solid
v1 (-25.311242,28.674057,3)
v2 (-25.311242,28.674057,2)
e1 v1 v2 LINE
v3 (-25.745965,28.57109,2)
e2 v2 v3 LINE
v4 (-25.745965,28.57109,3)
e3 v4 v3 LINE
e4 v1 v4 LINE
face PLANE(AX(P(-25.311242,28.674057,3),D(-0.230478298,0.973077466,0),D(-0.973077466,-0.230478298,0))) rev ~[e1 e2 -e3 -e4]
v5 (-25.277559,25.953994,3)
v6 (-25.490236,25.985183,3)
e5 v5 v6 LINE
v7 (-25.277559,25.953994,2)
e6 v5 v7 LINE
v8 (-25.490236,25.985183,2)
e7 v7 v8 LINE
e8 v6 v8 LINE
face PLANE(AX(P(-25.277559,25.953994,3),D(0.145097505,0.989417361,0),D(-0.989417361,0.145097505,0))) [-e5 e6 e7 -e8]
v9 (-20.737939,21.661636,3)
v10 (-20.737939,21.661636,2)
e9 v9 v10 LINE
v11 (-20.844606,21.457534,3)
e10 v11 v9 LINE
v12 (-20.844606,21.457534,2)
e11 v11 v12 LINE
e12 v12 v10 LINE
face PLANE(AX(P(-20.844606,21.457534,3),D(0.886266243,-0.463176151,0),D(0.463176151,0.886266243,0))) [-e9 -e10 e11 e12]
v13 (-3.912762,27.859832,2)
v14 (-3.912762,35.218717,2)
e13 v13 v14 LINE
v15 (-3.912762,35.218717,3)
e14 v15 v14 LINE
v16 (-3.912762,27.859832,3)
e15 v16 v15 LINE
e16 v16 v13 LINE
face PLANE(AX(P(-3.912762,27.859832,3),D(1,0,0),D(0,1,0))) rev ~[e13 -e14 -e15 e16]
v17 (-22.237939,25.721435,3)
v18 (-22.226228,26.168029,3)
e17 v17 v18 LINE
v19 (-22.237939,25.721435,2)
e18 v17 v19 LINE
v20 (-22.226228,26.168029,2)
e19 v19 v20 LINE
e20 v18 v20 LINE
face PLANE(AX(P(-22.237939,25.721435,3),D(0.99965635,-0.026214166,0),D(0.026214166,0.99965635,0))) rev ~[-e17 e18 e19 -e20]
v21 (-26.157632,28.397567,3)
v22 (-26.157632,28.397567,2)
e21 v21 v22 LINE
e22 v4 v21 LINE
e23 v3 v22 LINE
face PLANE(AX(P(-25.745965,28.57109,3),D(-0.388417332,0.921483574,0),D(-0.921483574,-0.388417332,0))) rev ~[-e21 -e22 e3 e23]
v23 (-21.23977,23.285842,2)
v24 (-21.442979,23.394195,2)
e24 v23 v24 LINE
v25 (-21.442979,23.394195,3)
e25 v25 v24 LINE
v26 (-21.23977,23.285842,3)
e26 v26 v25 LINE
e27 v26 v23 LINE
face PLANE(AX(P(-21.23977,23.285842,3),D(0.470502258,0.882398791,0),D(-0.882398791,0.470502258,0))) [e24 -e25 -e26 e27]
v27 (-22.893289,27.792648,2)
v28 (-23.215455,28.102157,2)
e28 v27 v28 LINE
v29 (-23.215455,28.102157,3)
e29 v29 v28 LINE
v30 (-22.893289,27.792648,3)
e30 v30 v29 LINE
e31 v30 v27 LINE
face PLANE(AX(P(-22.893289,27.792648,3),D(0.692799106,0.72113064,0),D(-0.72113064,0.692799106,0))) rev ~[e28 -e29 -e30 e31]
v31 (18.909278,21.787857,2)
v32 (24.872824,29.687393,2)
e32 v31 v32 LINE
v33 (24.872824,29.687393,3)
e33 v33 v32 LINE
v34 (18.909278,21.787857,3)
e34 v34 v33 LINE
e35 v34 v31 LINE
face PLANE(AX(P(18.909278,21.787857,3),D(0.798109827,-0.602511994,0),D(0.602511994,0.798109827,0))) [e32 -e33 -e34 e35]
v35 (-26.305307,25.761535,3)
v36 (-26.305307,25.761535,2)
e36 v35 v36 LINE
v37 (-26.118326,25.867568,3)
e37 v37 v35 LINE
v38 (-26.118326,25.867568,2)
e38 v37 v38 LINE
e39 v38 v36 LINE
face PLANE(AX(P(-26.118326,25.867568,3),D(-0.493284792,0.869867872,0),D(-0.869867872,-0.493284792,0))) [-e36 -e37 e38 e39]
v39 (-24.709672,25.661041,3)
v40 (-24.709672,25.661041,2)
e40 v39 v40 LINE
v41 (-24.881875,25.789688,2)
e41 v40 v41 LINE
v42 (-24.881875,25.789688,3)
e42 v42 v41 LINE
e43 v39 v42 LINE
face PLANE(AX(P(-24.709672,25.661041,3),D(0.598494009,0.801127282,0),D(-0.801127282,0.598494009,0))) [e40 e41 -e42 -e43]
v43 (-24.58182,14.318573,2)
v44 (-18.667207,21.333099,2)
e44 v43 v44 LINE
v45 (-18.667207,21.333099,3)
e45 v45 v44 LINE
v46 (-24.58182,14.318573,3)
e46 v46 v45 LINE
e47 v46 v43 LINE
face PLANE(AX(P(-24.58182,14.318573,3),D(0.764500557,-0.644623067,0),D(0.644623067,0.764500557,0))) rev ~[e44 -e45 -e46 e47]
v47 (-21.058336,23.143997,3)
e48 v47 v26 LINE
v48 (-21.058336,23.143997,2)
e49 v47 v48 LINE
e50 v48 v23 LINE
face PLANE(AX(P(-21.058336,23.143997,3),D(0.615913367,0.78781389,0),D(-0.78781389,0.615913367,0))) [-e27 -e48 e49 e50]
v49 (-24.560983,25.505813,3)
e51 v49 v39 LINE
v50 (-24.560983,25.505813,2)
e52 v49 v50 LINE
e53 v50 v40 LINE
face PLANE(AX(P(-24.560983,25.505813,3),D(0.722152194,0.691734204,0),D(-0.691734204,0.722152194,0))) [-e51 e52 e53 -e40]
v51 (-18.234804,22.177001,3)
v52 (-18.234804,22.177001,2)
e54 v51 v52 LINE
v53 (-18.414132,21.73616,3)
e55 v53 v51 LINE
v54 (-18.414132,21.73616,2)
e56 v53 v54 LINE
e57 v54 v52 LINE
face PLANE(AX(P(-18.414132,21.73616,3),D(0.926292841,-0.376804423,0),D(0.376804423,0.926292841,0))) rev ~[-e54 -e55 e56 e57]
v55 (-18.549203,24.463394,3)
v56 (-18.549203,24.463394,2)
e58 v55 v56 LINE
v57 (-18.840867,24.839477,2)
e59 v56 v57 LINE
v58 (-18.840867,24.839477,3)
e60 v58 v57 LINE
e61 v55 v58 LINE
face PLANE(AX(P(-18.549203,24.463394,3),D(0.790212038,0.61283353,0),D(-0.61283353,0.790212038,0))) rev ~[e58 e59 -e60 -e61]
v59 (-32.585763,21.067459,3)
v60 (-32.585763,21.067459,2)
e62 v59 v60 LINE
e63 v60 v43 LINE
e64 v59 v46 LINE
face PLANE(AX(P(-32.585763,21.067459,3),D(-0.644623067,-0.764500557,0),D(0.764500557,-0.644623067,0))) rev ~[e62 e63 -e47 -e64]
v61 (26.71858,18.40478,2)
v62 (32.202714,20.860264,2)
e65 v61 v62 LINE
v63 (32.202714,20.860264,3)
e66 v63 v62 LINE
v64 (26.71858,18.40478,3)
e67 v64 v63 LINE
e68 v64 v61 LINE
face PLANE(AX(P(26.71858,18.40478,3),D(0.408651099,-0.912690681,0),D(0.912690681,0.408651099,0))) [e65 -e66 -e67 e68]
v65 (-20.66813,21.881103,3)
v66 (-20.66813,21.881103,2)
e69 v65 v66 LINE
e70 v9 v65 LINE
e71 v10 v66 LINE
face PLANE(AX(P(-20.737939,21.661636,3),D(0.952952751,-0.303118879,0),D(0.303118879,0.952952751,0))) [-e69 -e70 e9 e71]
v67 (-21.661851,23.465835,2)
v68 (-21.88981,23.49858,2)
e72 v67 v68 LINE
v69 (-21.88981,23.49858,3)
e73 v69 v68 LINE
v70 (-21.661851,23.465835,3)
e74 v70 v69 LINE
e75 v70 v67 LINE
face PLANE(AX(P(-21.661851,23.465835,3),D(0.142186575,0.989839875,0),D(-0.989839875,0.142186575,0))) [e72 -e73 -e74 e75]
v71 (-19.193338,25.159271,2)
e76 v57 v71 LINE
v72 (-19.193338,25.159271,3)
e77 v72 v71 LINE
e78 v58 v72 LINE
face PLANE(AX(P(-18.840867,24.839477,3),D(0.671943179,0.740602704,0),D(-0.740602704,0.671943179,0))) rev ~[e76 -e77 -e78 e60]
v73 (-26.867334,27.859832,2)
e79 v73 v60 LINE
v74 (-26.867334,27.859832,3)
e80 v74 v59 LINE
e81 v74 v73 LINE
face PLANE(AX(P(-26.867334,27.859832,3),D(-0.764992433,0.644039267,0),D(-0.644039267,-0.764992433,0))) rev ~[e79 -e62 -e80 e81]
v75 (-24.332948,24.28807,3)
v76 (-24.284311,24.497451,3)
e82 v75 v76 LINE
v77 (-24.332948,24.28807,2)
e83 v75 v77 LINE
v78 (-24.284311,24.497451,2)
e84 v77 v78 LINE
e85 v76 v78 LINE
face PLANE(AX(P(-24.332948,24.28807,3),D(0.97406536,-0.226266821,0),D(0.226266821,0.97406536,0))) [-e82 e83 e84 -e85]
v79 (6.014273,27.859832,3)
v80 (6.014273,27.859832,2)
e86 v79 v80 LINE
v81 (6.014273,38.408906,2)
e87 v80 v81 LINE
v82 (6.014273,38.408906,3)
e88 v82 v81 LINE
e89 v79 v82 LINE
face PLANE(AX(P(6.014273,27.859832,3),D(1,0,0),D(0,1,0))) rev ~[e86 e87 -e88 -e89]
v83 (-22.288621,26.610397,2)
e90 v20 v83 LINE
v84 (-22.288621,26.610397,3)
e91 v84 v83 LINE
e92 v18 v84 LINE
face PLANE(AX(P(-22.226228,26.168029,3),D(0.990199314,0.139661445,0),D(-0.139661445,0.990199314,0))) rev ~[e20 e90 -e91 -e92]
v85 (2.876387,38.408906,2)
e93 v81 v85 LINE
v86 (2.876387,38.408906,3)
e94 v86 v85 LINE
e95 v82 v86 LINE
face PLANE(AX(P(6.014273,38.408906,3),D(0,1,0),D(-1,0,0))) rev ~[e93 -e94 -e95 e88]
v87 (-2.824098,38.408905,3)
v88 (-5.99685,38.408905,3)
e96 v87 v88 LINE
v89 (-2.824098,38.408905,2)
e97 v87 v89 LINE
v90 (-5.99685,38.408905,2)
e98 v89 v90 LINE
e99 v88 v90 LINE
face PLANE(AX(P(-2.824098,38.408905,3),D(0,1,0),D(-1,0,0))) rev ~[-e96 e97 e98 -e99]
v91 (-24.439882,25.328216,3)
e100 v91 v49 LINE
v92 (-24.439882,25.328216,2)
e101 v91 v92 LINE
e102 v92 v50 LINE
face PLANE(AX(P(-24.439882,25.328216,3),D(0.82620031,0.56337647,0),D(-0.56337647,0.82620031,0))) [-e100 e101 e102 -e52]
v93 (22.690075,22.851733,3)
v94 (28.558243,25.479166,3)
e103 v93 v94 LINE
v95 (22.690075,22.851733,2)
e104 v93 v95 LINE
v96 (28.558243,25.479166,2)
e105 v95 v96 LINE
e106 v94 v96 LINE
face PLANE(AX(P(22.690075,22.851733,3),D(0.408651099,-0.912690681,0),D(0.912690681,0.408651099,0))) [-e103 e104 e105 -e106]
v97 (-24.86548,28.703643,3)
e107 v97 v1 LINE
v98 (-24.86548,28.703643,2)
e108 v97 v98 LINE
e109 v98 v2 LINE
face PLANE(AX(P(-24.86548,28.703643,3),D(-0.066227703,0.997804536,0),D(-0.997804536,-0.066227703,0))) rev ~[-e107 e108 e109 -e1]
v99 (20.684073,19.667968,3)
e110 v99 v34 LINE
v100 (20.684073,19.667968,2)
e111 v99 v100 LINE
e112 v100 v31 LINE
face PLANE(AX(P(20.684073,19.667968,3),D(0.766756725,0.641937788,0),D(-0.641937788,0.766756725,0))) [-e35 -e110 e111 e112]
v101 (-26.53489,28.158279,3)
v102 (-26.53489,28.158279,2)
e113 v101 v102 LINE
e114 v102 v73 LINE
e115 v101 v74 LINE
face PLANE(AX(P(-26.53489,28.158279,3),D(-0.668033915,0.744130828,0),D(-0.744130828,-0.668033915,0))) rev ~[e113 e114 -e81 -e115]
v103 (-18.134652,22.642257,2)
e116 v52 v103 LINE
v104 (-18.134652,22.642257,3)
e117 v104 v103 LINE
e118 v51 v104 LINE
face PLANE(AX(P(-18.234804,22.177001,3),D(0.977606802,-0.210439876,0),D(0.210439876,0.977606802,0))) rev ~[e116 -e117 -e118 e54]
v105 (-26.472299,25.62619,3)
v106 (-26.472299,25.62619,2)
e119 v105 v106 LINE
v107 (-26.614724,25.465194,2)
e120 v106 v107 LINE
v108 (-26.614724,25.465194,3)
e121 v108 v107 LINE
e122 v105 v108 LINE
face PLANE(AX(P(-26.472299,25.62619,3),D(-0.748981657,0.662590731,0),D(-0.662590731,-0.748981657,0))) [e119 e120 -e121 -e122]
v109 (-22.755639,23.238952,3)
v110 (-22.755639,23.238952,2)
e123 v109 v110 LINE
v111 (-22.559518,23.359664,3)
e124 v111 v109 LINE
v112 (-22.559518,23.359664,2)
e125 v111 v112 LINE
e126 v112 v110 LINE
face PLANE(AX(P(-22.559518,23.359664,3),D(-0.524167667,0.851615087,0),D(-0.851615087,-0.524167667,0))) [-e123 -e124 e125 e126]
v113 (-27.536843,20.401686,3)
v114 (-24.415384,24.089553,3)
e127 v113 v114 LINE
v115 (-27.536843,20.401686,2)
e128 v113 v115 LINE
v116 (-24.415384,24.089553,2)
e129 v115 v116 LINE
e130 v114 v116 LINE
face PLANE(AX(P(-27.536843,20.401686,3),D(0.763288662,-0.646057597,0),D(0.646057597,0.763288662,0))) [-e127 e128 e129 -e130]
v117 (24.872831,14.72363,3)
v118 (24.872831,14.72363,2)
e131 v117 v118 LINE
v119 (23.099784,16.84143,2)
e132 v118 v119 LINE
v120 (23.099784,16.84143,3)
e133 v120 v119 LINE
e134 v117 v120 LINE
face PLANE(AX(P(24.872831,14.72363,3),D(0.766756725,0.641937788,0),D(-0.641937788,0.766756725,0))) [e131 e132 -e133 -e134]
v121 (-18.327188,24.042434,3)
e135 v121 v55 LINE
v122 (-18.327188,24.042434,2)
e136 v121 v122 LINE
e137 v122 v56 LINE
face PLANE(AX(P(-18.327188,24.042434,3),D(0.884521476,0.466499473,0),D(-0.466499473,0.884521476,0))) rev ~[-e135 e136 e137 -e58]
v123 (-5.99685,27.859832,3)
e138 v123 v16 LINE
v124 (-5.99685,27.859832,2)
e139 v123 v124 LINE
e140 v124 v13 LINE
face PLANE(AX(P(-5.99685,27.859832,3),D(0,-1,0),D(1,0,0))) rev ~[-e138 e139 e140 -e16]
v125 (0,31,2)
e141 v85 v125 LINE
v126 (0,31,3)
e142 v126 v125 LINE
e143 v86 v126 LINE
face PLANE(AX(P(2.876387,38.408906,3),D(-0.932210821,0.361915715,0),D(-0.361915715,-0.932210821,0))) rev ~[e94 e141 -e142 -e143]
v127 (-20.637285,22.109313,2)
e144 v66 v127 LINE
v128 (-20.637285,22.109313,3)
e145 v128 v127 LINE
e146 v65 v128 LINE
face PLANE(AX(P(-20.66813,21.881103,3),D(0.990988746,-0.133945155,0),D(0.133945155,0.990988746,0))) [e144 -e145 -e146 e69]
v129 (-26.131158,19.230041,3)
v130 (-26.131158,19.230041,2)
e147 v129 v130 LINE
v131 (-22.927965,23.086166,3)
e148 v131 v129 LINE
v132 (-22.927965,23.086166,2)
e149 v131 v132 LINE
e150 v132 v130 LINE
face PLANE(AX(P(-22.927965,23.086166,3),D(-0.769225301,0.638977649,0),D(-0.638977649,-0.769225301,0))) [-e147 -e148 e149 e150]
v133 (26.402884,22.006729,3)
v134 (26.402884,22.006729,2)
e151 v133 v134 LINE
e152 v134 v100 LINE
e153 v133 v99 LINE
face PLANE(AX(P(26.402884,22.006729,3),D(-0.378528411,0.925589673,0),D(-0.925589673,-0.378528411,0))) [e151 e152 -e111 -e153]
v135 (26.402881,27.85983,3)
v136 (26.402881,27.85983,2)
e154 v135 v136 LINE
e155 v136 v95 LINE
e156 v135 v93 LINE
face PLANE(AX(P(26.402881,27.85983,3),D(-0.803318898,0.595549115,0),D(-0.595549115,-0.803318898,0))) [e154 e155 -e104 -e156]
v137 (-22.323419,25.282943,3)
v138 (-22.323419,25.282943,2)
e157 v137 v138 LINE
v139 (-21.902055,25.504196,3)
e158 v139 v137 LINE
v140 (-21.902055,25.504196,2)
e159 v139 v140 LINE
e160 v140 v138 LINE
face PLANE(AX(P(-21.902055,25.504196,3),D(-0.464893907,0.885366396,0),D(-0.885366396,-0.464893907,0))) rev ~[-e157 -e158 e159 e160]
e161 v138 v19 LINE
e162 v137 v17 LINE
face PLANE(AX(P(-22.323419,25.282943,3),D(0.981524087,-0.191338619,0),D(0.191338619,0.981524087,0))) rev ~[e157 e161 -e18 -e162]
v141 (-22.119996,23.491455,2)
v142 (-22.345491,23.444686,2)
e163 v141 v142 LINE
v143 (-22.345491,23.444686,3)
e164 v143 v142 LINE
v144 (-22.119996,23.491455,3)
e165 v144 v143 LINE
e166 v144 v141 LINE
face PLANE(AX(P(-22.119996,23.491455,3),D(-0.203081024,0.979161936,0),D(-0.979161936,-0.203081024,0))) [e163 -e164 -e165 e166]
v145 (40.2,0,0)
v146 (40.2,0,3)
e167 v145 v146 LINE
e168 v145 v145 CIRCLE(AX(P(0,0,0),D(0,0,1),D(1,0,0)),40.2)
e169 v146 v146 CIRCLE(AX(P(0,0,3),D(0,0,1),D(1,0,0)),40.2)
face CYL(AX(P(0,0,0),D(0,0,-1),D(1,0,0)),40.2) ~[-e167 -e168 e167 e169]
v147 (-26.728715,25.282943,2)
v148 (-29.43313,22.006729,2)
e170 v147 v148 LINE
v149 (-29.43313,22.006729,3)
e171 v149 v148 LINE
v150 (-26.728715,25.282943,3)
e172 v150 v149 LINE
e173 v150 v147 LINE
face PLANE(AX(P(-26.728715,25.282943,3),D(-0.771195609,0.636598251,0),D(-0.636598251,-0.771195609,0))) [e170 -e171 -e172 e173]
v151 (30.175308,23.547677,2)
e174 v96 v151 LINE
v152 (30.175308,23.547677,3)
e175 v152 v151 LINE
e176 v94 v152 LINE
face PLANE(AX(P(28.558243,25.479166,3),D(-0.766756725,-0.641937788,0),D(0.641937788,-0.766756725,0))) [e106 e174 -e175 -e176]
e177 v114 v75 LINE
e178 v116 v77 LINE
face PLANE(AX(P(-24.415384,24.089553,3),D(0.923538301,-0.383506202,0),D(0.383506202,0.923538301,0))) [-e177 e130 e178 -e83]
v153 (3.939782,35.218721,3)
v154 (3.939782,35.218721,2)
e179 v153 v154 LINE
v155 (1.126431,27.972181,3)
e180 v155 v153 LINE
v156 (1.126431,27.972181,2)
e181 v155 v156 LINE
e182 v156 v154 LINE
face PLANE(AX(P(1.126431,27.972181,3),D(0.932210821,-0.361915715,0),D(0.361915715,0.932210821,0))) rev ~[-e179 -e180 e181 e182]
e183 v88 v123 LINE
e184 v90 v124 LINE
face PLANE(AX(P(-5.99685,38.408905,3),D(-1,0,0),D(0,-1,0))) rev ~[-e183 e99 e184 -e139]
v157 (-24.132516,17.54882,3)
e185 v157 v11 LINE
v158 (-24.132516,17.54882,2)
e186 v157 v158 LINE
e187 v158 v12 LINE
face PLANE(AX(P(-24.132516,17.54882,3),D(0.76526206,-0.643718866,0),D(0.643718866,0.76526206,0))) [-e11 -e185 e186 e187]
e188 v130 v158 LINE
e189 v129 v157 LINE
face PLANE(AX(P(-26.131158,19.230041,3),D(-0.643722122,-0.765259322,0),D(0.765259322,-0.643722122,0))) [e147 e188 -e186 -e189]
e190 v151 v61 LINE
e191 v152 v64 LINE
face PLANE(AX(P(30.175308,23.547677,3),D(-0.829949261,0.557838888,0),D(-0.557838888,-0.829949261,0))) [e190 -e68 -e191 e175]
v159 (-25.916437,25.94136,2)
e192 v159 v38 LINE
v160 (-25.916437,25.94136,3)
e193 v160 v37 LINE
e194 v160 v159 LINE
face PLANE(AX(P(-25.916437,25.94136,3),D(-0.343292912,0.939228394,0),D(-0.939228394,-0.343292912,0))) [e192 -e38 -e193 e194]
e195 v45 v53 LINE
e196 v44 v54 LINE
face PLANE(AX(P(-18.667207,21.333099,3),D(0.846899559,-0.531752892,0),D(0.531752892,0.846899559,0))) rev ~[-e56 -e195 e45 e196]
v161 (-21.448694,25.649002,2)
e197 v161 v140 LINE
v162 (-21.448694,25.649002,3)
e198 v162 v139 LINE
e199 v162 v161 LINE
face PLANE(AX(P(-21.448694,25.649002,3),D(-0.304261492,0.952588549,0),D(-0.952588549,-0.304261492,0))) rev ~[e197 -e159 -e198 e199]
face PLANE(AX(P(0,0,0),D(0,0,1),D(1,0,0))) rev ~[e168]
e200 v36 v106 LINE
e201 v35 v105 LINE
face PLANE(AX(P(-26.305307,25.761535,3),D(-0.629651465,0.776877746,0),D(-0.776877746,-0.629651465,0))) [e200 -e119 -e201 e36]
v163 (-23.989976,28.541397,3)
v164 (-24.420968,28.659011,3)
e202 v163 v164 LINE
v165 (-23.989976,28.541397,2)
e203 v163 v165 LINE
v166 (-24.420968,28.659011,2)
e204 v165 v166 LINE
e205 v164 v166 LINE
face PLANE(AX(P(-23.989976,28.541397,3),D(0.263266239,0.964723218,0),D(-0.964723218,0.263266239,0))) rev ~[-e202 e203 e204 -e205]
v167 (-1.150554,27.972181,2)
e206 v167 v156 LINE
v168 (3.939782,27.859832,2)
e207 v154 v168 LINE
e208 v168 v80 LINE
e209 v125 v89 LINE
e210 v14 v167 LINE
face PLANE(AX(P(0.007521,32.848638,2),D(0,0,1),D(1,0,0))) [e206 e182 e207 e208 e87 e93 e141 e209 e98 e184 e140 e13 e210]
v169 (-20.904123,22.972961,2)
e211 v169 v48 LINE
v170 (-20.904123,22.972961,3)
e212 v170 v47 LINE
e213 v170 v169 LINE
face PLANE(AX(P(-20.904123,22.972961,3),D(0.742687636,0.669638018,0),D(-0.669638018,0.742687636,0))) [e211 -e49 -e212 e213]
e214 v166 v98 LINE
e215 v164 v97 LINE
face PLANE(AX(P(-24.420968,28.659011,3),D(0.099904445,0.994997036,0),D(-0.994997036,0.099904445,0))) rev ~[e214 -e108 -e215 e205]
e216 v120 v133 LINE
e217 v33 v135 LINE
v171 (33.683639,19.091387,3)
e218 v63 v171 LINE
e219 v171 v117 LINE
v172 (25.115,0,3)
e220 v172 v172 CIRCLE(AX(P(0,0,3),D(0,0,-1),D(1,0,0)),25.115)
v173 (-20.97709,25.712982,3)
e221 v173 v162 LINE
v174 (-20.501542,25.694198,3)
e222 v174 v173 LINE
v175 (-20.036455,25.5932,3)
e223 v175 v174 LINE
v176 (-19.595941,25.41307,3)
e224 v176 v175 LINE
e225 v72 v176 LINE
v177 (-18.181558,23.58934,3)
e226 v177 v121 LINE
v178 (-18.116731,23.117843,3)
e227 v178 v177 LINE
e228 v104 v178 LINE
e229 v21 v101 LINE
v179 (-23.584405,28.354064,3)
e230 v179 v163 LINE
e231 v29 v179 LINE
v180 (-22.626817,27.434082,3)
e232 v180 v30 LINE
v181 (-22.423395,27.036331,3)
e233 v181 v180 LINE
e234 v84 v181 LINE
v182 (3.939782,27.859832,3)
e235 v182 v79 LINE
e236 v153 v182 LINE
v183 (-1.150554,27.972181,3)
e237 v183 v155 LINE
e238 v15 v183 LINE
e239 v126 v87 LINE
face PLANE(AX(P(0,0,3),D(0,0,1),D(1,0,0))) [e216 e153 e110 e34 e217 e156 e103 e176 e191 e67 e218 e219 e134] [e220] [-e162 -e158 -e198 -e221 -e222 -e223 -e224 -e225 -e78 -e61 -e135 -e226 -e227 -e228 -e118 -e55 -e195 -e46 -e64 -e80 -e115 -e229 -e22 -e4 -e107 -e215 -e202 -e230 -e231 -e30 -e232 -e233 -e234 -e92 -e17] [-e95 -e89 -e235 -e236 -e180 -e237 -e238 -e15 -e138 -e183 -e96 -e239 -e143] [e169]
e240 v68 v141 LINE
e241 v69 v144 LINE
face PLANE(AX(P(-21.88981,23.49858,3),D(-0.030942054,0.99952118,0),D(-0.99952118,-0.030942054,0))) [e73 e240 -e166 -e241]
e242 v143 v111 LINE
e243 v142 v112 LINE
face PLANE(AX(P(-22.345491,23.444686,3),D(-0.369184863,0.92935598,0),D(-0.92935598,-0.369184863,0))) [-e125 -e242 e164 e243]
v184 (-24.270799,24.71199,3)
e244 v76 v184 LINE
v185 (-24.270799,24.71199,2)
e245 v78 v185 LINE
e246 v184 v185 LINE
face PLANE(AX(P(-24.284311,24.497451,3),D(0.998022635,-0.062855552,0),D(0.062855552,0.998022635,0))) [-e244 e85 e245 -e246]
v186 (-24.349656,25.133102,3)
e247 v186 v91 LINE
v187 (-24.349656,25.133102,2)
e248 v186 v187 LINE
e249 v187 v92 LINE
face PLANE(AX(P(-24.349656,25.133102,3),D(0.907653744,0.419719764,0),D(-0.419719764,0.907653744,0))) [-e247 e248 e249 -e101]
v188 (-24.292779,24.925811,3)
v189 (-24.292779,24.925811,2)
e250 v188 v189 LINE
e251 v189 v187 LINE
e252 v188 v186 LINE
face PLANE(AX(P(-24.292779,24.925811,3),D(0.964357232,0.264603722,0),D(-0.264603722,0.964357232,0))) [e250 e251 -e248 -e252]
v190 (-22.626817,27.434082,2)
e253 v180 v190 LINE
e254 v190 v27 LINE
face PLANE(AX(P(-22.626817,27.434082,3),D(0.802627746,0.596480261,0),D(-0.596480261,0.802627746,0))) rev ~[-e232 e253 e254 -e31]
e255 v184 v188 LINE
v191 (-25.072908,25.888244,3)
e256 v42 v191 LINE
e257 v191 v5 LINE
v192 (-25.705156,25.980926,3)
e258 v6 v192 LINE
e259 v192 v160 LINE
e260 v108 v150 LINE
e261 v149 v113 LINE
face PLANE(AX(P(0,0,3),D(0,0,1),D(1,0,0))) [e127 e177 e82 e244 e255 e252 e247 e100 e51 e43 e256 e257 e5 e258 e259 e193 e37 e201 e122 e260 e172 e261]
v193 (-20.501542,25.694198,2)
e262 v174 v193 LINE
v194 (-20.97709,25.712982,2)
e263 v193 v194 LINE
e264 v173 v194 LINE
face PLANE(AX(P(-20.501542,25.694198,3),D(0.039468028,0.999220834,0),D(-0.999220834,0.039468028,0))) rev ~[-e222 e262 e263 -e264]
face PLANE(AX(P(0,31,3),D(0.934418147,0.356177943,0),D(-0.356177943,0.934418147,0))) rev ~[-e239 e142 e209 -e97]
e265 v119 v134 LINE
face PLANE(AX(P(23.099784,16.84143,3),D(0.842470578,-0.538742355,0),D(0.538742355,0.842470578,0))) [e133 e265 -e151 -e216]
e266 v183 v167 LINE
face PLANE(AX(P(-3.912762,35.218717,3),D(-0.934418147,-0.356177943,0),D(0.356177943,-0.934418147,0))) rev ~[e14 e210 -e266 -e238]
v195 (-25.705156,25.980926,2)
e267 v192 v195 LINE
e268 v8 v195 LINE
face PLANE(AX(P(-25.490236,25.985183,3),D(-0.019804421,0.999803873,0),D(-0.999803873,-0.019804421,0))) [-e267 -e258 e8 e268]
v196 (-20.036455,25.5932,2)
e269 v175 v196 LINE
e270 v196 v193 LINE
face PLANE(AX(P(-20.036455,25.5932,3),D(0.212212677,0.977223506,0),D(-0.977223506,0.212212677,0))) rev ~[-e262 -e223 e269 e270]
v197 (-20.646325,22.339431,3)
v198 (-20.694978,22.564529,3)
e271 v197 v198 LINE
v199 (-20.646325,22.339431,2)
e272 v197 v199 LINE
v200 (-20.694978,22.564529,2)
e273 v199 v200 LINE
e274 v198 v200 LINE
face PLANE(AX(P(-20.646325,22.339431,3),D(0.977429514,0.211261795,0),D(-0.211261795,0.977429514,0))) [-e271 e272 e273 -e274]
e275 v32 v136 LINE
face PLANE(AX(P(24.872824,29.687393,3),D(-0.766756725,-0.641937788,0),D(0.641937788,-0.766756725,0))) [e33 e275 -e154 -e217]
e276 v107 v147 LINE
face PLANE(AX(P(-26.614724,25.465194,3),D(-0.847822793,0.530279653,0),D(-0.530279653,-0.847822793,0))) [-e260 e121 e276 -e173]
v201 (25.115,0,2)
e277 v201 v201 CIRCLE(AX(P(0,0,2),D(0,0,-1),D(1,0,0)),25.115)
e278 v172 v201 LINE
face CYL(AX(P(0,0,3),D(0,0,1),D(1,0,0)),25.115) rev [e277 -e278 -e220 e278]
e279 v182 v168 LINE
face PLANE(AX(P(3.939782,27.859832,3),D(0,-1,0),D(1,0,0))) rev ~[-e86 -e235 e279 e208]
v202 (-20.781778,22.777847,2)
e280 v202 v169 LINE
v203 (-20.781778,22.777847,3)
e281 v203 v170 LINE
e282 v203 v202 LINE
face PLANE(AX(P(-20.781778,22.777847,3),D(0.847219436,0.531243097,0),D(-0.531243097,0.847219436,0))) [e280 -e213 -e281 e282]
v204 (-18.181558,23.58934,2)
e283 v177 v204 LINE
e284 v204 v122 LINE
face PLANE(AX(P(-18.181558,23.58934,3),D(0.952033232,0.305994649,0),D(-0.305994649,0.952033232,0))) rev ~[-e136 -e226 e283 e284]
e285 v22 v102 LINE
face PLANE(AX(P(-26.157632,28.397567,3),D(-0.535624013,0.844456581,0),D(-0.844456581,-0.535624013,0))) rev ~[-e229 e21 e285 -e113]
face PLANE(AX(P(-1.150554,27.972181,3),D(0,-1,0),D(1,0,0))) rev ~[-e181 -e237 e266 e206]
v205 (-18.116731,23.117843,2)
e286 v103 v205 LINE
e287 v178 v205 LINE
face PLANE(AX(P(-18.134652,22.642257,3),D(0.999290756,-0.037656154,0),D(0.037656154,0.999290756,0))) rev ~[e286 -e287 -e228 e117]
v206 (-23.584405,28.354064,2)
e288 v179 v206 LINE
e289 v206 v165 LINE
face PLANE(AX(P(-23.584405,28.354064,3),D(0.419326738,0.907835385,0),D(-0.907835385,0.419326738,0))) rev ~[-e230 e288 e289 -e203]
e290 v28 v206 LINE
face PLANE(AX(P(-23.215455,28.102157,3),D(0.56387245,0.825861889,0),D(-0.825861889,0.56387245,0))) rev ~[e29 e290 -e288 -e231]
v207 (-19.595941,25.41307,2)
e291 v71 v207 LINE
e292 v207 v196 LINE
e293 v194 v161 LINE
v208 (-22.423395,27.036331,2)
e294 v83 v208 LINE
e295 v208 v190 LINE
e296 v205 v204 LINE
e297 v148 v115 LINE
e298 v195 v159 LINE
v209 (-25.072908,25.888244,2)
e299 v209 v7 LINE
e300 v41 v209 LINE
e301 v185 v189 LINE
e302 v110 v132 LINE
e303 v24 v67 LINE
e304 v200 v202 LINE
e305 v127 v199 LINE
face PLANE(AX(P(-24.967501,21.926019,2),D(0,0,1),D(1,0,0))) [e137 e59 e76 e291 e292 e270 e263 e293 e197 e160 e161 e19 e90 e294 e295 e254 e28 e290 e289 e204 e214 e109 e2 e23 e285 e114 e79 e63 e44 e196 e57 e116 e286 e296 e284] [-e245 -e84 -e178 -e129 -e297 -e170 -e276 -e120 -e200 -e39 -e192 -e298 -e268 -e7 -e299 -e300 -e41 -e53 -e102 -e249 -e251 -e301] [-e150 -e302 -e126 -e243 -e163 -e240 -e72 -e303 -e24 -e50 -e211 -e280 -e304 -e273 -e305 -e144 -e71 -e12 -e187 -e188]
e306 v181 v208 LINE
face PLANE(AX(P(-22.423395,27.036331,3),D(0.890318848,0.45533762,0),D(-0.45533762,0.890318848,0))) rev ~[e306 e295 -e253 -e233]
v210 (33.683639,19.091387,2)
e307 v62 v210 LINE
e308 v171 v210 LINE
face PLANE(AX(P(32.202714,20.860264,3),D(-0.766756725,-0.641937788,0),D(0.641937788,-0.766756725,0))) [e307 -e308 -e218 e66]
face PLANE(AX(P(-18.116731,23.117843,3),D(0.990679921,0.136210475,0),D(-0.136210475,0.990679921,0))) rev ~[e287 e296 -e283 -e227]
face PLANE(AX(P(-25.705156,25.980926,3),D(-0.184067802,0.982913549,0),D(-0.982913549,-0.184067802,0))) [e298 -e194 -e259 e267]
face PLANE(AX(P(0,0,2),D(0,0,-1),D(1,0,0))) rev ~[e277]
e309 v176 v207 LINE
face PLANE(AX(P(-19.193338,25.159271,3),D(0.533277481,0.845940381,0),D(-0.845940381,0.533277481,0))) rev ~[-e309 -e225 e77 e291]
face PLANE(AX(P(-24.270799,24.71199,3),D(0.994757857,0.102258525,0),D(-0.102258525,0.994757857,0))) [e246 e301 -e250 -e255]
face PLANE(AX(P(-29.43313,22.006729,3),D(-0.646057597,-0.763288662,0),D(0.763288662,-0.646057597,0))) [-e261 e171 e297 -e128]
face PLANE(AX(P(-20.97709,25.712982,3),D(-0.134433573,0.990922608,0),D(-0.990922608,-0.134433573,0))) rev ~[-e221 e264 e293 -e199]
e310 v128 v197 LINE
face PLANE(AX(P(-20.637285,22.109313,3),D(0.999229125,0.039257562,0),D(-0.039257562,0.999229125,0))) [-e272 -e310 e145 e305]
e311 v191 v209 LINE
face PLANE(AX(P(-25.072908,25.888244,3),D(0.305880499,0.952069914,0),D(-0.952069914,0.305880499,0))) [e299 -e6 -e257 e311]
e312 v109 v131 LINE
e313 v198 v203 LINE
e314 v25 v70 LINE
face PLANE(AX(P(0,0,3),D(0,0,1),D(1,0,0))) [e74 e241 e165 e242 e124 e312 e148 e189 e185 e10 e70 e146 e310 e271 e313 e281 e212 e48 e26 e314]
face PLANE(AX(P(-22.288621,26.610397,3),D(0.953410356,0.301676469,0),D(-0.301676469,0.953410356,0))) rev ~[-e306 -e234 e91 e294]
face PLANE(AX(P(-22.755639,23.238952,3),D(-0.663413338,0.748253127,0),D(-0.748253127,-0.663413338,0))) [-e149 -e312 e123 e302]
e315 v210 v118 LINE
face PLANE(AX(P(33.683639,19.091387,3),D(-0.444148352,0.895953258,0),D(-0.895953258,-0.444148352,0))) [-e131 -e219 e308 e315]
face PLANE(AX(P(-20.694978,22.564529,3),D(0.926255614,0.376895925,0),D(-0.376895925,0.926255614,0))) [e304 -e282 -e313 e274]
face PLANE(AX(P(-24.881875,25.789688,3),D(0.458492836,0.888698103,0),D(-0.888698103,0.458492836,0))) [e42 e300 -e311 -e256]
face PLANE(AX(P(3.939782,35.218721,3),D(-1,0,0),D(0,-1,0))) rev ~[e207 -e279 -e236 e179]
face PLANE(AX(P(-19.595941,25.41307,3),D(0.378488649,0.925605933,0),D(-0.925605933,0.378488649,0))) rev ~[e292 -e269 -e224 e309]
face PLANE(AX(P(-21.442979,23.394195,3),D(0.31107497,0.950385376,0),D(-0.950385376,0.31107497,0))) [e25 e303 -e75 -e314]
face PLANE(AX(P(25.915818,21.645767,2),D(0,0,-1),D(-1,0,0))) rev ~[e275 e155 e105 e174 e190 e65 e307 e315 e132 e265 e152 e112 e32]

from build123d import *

# Parameters (mm, degrees)
SKETCH_1_R          = 40.2
EXTRUDE_1_DEPTH     = 3
CUT_EXTRUDE_2_DEPTH = 1
CUT_EXTRUDE_START   = -3
SKETCH_2_R          = 25.115
CUT_EXTRUDE_1_DEPTH = 1


with BuildPart() as part:
    # 草图1 → 凸台-拉伸1 (new body)
    with BuildSketch(Plane.XY):
        Circle(SKETCH_1_R)
    extrude(amount=EXTRUDE_1_DEPTH)

    # 草图4 → 切除-拉伸2 (cut)
    # profile 1 of 3: a face of its own
    with BuildSketch(Plane.XY.offset(3)):
        Polygon((-32.5857633, 21.06745862), (-24.581820031, 14.318573463), (-18.667207086, 21.333098879), (-18.41413244, 21.736159792), (-18.234803522, 22.177001467), (-18.13465246, 22.642257204), (-18.116731012, 23.117843142), (-18.181557978, 23.589339724), (-18.32718786, 24.042434206), (-18.549203241, 24.463393679), (-18.840867365, 24.839477053), (-19.193337763, 25.159270754), (-19.595940912, 25.413070192), (-20.036454523, 25.593200197), (-20.501542414, 25.694198122), (-20.977090204, 25.712981691), (-21.448693598, 25.649001589), (-21.902055109, 25.504195681), (-22.323418939, 25.282943239), (-22.237939203, 25.721435061), (-22.226228083, 26.168029299), (-22.288621271, 26.610396853), (-22.423394525, 27.03633069), (-22.626817072, 27.434081545), (-22.893288935, 27.792647829), (-23.215455377, 28.102157106), (-23.584405268, 28.354064455), (-23.989976251, 28.541396608), (-24.420968378, 28.659011354), (-24.865479792, 28.703643312), (-25.311242426, 28.67405652), (-25.745965326, 28.571090212), (-26.157632196, 28.397567263), (-26.534890497, 28.158278933), (-26.867333734, 27.859832277), align=None)
        Polygon((-29.433129633, 22.00672864), (-27.536842846, 20.401686478), (-24.415383661, 24.089553347), (-24.332948053, 24.288070192), (-24.284310663, 24.497451296), (-24.270799005, 24.71198987), (-24.292779291, 24.925811281), (-24.349656427, 25.133101931), (-24.439881647, 25.328216066), (-24.560983026, 25.505813112), (-24.709672296, 25.661040773), (-24.88187536, 25.789687624), (-25.07290777, 25.888244143), (-25.277558649, 25.953994265), (-25.490235651, 25.985183229), (-25.705155695, 25.980926027), (-25.916436518, 25.941359987), (-26.118325556, 25.867568483), (-26.305306757, 25.761535158), (-26.472298944, 25.626189699), (-26.614724481, 25.465194216), (-26.728715265, 25.282943239), align=None, mode=Mode.SUBTRACT)
        Polygon((-22.927964533, 23.086165895), (-26.131158197, 19.230041018), (-24.13251623, 17.548820009), (-20.844605768, 21.457534304), (-20.737939203, 21.661635866), (-20.668130243, 21.881103029), (-20.637284601, 22.109313479), (-20.646325434, 22.339431276), (-20.694978083, 22.564528933), (-20.781777704, 22.777846804), (-20.904122675, 22.972960939), (-21.058335626, 23.143996706), (-21.239770258, 23.285842409), (-21.442979181, 23.39419507), (-21.661851251, 23.465835085), (-21.889809931, 23.498580446), (-22.119996393, 23.491454592), (-22.345490778, 23.444686403), (-22.559518183, 23.359664431), (-22.755639398, 23.23895215), align=None, mode=Mode.SUBTRACT)
    # profile 2 of 3: a face of its own
    with BuildSketch(Plane.XY.offset(3)):
        Polygon((-5.996850336, 38.408904543), (-5.996850336, 27.859832277), (-3.91276153, 27.859832277), (-3.91276153, 35.218716958), (-1.150554499, 27.972180703), (1.12643067, 27.972180703), (3.939782293, 35.218721034), (3.939782293, 27.859832277), (6.014273321, 27.859832277), (6.014273321, 38.408905525), (2.876387274, 38.408905525), (0, 31), (-2.824097956, 38.408904543), align=None)
    # profile 3 of 3: a face of its own
    with BuildSketch(Plane.XY.offset(3)):
        Polygon((24.872824347, 29.687392702), (26.402881435, 27.859829995), (22.690074891, 22.851733117), (28.558242873, 25.479165769), (30.175307816, 23.547677324), (26.718580446, 18.404779635), (32.2027141, 20.860263506), (33.683638635, 19.091386728), (24.872830811, 14.723630109), (23.099783575, 16.841430178), (26.402884161, 22.00672864), (20.684073126, 19.667968264), (18.909277594, 21.787856569), align=None)
    extrude(amount=-CUT_EXTRUDE_2_DEPTH, mode=Mode.SUBTRACT)

    # 草图2 → 切除-拉伸1 (cut)
    with BuildSketch(Plane(origin=(0, 0, 0), x_dir=(-1, 0, 0), z_dir=(0, 0, -1)).offset(CUT_EXTRUDE_START)):
        with Locations(Location((0, 0, 0), (0, 0, 180))):
            Circle(SKETCH_2_R)
    extrude(amount=CUT_EXTRUDE_1_DEPTH, mode=Mode.SUBTRACT)


solid = part.part
